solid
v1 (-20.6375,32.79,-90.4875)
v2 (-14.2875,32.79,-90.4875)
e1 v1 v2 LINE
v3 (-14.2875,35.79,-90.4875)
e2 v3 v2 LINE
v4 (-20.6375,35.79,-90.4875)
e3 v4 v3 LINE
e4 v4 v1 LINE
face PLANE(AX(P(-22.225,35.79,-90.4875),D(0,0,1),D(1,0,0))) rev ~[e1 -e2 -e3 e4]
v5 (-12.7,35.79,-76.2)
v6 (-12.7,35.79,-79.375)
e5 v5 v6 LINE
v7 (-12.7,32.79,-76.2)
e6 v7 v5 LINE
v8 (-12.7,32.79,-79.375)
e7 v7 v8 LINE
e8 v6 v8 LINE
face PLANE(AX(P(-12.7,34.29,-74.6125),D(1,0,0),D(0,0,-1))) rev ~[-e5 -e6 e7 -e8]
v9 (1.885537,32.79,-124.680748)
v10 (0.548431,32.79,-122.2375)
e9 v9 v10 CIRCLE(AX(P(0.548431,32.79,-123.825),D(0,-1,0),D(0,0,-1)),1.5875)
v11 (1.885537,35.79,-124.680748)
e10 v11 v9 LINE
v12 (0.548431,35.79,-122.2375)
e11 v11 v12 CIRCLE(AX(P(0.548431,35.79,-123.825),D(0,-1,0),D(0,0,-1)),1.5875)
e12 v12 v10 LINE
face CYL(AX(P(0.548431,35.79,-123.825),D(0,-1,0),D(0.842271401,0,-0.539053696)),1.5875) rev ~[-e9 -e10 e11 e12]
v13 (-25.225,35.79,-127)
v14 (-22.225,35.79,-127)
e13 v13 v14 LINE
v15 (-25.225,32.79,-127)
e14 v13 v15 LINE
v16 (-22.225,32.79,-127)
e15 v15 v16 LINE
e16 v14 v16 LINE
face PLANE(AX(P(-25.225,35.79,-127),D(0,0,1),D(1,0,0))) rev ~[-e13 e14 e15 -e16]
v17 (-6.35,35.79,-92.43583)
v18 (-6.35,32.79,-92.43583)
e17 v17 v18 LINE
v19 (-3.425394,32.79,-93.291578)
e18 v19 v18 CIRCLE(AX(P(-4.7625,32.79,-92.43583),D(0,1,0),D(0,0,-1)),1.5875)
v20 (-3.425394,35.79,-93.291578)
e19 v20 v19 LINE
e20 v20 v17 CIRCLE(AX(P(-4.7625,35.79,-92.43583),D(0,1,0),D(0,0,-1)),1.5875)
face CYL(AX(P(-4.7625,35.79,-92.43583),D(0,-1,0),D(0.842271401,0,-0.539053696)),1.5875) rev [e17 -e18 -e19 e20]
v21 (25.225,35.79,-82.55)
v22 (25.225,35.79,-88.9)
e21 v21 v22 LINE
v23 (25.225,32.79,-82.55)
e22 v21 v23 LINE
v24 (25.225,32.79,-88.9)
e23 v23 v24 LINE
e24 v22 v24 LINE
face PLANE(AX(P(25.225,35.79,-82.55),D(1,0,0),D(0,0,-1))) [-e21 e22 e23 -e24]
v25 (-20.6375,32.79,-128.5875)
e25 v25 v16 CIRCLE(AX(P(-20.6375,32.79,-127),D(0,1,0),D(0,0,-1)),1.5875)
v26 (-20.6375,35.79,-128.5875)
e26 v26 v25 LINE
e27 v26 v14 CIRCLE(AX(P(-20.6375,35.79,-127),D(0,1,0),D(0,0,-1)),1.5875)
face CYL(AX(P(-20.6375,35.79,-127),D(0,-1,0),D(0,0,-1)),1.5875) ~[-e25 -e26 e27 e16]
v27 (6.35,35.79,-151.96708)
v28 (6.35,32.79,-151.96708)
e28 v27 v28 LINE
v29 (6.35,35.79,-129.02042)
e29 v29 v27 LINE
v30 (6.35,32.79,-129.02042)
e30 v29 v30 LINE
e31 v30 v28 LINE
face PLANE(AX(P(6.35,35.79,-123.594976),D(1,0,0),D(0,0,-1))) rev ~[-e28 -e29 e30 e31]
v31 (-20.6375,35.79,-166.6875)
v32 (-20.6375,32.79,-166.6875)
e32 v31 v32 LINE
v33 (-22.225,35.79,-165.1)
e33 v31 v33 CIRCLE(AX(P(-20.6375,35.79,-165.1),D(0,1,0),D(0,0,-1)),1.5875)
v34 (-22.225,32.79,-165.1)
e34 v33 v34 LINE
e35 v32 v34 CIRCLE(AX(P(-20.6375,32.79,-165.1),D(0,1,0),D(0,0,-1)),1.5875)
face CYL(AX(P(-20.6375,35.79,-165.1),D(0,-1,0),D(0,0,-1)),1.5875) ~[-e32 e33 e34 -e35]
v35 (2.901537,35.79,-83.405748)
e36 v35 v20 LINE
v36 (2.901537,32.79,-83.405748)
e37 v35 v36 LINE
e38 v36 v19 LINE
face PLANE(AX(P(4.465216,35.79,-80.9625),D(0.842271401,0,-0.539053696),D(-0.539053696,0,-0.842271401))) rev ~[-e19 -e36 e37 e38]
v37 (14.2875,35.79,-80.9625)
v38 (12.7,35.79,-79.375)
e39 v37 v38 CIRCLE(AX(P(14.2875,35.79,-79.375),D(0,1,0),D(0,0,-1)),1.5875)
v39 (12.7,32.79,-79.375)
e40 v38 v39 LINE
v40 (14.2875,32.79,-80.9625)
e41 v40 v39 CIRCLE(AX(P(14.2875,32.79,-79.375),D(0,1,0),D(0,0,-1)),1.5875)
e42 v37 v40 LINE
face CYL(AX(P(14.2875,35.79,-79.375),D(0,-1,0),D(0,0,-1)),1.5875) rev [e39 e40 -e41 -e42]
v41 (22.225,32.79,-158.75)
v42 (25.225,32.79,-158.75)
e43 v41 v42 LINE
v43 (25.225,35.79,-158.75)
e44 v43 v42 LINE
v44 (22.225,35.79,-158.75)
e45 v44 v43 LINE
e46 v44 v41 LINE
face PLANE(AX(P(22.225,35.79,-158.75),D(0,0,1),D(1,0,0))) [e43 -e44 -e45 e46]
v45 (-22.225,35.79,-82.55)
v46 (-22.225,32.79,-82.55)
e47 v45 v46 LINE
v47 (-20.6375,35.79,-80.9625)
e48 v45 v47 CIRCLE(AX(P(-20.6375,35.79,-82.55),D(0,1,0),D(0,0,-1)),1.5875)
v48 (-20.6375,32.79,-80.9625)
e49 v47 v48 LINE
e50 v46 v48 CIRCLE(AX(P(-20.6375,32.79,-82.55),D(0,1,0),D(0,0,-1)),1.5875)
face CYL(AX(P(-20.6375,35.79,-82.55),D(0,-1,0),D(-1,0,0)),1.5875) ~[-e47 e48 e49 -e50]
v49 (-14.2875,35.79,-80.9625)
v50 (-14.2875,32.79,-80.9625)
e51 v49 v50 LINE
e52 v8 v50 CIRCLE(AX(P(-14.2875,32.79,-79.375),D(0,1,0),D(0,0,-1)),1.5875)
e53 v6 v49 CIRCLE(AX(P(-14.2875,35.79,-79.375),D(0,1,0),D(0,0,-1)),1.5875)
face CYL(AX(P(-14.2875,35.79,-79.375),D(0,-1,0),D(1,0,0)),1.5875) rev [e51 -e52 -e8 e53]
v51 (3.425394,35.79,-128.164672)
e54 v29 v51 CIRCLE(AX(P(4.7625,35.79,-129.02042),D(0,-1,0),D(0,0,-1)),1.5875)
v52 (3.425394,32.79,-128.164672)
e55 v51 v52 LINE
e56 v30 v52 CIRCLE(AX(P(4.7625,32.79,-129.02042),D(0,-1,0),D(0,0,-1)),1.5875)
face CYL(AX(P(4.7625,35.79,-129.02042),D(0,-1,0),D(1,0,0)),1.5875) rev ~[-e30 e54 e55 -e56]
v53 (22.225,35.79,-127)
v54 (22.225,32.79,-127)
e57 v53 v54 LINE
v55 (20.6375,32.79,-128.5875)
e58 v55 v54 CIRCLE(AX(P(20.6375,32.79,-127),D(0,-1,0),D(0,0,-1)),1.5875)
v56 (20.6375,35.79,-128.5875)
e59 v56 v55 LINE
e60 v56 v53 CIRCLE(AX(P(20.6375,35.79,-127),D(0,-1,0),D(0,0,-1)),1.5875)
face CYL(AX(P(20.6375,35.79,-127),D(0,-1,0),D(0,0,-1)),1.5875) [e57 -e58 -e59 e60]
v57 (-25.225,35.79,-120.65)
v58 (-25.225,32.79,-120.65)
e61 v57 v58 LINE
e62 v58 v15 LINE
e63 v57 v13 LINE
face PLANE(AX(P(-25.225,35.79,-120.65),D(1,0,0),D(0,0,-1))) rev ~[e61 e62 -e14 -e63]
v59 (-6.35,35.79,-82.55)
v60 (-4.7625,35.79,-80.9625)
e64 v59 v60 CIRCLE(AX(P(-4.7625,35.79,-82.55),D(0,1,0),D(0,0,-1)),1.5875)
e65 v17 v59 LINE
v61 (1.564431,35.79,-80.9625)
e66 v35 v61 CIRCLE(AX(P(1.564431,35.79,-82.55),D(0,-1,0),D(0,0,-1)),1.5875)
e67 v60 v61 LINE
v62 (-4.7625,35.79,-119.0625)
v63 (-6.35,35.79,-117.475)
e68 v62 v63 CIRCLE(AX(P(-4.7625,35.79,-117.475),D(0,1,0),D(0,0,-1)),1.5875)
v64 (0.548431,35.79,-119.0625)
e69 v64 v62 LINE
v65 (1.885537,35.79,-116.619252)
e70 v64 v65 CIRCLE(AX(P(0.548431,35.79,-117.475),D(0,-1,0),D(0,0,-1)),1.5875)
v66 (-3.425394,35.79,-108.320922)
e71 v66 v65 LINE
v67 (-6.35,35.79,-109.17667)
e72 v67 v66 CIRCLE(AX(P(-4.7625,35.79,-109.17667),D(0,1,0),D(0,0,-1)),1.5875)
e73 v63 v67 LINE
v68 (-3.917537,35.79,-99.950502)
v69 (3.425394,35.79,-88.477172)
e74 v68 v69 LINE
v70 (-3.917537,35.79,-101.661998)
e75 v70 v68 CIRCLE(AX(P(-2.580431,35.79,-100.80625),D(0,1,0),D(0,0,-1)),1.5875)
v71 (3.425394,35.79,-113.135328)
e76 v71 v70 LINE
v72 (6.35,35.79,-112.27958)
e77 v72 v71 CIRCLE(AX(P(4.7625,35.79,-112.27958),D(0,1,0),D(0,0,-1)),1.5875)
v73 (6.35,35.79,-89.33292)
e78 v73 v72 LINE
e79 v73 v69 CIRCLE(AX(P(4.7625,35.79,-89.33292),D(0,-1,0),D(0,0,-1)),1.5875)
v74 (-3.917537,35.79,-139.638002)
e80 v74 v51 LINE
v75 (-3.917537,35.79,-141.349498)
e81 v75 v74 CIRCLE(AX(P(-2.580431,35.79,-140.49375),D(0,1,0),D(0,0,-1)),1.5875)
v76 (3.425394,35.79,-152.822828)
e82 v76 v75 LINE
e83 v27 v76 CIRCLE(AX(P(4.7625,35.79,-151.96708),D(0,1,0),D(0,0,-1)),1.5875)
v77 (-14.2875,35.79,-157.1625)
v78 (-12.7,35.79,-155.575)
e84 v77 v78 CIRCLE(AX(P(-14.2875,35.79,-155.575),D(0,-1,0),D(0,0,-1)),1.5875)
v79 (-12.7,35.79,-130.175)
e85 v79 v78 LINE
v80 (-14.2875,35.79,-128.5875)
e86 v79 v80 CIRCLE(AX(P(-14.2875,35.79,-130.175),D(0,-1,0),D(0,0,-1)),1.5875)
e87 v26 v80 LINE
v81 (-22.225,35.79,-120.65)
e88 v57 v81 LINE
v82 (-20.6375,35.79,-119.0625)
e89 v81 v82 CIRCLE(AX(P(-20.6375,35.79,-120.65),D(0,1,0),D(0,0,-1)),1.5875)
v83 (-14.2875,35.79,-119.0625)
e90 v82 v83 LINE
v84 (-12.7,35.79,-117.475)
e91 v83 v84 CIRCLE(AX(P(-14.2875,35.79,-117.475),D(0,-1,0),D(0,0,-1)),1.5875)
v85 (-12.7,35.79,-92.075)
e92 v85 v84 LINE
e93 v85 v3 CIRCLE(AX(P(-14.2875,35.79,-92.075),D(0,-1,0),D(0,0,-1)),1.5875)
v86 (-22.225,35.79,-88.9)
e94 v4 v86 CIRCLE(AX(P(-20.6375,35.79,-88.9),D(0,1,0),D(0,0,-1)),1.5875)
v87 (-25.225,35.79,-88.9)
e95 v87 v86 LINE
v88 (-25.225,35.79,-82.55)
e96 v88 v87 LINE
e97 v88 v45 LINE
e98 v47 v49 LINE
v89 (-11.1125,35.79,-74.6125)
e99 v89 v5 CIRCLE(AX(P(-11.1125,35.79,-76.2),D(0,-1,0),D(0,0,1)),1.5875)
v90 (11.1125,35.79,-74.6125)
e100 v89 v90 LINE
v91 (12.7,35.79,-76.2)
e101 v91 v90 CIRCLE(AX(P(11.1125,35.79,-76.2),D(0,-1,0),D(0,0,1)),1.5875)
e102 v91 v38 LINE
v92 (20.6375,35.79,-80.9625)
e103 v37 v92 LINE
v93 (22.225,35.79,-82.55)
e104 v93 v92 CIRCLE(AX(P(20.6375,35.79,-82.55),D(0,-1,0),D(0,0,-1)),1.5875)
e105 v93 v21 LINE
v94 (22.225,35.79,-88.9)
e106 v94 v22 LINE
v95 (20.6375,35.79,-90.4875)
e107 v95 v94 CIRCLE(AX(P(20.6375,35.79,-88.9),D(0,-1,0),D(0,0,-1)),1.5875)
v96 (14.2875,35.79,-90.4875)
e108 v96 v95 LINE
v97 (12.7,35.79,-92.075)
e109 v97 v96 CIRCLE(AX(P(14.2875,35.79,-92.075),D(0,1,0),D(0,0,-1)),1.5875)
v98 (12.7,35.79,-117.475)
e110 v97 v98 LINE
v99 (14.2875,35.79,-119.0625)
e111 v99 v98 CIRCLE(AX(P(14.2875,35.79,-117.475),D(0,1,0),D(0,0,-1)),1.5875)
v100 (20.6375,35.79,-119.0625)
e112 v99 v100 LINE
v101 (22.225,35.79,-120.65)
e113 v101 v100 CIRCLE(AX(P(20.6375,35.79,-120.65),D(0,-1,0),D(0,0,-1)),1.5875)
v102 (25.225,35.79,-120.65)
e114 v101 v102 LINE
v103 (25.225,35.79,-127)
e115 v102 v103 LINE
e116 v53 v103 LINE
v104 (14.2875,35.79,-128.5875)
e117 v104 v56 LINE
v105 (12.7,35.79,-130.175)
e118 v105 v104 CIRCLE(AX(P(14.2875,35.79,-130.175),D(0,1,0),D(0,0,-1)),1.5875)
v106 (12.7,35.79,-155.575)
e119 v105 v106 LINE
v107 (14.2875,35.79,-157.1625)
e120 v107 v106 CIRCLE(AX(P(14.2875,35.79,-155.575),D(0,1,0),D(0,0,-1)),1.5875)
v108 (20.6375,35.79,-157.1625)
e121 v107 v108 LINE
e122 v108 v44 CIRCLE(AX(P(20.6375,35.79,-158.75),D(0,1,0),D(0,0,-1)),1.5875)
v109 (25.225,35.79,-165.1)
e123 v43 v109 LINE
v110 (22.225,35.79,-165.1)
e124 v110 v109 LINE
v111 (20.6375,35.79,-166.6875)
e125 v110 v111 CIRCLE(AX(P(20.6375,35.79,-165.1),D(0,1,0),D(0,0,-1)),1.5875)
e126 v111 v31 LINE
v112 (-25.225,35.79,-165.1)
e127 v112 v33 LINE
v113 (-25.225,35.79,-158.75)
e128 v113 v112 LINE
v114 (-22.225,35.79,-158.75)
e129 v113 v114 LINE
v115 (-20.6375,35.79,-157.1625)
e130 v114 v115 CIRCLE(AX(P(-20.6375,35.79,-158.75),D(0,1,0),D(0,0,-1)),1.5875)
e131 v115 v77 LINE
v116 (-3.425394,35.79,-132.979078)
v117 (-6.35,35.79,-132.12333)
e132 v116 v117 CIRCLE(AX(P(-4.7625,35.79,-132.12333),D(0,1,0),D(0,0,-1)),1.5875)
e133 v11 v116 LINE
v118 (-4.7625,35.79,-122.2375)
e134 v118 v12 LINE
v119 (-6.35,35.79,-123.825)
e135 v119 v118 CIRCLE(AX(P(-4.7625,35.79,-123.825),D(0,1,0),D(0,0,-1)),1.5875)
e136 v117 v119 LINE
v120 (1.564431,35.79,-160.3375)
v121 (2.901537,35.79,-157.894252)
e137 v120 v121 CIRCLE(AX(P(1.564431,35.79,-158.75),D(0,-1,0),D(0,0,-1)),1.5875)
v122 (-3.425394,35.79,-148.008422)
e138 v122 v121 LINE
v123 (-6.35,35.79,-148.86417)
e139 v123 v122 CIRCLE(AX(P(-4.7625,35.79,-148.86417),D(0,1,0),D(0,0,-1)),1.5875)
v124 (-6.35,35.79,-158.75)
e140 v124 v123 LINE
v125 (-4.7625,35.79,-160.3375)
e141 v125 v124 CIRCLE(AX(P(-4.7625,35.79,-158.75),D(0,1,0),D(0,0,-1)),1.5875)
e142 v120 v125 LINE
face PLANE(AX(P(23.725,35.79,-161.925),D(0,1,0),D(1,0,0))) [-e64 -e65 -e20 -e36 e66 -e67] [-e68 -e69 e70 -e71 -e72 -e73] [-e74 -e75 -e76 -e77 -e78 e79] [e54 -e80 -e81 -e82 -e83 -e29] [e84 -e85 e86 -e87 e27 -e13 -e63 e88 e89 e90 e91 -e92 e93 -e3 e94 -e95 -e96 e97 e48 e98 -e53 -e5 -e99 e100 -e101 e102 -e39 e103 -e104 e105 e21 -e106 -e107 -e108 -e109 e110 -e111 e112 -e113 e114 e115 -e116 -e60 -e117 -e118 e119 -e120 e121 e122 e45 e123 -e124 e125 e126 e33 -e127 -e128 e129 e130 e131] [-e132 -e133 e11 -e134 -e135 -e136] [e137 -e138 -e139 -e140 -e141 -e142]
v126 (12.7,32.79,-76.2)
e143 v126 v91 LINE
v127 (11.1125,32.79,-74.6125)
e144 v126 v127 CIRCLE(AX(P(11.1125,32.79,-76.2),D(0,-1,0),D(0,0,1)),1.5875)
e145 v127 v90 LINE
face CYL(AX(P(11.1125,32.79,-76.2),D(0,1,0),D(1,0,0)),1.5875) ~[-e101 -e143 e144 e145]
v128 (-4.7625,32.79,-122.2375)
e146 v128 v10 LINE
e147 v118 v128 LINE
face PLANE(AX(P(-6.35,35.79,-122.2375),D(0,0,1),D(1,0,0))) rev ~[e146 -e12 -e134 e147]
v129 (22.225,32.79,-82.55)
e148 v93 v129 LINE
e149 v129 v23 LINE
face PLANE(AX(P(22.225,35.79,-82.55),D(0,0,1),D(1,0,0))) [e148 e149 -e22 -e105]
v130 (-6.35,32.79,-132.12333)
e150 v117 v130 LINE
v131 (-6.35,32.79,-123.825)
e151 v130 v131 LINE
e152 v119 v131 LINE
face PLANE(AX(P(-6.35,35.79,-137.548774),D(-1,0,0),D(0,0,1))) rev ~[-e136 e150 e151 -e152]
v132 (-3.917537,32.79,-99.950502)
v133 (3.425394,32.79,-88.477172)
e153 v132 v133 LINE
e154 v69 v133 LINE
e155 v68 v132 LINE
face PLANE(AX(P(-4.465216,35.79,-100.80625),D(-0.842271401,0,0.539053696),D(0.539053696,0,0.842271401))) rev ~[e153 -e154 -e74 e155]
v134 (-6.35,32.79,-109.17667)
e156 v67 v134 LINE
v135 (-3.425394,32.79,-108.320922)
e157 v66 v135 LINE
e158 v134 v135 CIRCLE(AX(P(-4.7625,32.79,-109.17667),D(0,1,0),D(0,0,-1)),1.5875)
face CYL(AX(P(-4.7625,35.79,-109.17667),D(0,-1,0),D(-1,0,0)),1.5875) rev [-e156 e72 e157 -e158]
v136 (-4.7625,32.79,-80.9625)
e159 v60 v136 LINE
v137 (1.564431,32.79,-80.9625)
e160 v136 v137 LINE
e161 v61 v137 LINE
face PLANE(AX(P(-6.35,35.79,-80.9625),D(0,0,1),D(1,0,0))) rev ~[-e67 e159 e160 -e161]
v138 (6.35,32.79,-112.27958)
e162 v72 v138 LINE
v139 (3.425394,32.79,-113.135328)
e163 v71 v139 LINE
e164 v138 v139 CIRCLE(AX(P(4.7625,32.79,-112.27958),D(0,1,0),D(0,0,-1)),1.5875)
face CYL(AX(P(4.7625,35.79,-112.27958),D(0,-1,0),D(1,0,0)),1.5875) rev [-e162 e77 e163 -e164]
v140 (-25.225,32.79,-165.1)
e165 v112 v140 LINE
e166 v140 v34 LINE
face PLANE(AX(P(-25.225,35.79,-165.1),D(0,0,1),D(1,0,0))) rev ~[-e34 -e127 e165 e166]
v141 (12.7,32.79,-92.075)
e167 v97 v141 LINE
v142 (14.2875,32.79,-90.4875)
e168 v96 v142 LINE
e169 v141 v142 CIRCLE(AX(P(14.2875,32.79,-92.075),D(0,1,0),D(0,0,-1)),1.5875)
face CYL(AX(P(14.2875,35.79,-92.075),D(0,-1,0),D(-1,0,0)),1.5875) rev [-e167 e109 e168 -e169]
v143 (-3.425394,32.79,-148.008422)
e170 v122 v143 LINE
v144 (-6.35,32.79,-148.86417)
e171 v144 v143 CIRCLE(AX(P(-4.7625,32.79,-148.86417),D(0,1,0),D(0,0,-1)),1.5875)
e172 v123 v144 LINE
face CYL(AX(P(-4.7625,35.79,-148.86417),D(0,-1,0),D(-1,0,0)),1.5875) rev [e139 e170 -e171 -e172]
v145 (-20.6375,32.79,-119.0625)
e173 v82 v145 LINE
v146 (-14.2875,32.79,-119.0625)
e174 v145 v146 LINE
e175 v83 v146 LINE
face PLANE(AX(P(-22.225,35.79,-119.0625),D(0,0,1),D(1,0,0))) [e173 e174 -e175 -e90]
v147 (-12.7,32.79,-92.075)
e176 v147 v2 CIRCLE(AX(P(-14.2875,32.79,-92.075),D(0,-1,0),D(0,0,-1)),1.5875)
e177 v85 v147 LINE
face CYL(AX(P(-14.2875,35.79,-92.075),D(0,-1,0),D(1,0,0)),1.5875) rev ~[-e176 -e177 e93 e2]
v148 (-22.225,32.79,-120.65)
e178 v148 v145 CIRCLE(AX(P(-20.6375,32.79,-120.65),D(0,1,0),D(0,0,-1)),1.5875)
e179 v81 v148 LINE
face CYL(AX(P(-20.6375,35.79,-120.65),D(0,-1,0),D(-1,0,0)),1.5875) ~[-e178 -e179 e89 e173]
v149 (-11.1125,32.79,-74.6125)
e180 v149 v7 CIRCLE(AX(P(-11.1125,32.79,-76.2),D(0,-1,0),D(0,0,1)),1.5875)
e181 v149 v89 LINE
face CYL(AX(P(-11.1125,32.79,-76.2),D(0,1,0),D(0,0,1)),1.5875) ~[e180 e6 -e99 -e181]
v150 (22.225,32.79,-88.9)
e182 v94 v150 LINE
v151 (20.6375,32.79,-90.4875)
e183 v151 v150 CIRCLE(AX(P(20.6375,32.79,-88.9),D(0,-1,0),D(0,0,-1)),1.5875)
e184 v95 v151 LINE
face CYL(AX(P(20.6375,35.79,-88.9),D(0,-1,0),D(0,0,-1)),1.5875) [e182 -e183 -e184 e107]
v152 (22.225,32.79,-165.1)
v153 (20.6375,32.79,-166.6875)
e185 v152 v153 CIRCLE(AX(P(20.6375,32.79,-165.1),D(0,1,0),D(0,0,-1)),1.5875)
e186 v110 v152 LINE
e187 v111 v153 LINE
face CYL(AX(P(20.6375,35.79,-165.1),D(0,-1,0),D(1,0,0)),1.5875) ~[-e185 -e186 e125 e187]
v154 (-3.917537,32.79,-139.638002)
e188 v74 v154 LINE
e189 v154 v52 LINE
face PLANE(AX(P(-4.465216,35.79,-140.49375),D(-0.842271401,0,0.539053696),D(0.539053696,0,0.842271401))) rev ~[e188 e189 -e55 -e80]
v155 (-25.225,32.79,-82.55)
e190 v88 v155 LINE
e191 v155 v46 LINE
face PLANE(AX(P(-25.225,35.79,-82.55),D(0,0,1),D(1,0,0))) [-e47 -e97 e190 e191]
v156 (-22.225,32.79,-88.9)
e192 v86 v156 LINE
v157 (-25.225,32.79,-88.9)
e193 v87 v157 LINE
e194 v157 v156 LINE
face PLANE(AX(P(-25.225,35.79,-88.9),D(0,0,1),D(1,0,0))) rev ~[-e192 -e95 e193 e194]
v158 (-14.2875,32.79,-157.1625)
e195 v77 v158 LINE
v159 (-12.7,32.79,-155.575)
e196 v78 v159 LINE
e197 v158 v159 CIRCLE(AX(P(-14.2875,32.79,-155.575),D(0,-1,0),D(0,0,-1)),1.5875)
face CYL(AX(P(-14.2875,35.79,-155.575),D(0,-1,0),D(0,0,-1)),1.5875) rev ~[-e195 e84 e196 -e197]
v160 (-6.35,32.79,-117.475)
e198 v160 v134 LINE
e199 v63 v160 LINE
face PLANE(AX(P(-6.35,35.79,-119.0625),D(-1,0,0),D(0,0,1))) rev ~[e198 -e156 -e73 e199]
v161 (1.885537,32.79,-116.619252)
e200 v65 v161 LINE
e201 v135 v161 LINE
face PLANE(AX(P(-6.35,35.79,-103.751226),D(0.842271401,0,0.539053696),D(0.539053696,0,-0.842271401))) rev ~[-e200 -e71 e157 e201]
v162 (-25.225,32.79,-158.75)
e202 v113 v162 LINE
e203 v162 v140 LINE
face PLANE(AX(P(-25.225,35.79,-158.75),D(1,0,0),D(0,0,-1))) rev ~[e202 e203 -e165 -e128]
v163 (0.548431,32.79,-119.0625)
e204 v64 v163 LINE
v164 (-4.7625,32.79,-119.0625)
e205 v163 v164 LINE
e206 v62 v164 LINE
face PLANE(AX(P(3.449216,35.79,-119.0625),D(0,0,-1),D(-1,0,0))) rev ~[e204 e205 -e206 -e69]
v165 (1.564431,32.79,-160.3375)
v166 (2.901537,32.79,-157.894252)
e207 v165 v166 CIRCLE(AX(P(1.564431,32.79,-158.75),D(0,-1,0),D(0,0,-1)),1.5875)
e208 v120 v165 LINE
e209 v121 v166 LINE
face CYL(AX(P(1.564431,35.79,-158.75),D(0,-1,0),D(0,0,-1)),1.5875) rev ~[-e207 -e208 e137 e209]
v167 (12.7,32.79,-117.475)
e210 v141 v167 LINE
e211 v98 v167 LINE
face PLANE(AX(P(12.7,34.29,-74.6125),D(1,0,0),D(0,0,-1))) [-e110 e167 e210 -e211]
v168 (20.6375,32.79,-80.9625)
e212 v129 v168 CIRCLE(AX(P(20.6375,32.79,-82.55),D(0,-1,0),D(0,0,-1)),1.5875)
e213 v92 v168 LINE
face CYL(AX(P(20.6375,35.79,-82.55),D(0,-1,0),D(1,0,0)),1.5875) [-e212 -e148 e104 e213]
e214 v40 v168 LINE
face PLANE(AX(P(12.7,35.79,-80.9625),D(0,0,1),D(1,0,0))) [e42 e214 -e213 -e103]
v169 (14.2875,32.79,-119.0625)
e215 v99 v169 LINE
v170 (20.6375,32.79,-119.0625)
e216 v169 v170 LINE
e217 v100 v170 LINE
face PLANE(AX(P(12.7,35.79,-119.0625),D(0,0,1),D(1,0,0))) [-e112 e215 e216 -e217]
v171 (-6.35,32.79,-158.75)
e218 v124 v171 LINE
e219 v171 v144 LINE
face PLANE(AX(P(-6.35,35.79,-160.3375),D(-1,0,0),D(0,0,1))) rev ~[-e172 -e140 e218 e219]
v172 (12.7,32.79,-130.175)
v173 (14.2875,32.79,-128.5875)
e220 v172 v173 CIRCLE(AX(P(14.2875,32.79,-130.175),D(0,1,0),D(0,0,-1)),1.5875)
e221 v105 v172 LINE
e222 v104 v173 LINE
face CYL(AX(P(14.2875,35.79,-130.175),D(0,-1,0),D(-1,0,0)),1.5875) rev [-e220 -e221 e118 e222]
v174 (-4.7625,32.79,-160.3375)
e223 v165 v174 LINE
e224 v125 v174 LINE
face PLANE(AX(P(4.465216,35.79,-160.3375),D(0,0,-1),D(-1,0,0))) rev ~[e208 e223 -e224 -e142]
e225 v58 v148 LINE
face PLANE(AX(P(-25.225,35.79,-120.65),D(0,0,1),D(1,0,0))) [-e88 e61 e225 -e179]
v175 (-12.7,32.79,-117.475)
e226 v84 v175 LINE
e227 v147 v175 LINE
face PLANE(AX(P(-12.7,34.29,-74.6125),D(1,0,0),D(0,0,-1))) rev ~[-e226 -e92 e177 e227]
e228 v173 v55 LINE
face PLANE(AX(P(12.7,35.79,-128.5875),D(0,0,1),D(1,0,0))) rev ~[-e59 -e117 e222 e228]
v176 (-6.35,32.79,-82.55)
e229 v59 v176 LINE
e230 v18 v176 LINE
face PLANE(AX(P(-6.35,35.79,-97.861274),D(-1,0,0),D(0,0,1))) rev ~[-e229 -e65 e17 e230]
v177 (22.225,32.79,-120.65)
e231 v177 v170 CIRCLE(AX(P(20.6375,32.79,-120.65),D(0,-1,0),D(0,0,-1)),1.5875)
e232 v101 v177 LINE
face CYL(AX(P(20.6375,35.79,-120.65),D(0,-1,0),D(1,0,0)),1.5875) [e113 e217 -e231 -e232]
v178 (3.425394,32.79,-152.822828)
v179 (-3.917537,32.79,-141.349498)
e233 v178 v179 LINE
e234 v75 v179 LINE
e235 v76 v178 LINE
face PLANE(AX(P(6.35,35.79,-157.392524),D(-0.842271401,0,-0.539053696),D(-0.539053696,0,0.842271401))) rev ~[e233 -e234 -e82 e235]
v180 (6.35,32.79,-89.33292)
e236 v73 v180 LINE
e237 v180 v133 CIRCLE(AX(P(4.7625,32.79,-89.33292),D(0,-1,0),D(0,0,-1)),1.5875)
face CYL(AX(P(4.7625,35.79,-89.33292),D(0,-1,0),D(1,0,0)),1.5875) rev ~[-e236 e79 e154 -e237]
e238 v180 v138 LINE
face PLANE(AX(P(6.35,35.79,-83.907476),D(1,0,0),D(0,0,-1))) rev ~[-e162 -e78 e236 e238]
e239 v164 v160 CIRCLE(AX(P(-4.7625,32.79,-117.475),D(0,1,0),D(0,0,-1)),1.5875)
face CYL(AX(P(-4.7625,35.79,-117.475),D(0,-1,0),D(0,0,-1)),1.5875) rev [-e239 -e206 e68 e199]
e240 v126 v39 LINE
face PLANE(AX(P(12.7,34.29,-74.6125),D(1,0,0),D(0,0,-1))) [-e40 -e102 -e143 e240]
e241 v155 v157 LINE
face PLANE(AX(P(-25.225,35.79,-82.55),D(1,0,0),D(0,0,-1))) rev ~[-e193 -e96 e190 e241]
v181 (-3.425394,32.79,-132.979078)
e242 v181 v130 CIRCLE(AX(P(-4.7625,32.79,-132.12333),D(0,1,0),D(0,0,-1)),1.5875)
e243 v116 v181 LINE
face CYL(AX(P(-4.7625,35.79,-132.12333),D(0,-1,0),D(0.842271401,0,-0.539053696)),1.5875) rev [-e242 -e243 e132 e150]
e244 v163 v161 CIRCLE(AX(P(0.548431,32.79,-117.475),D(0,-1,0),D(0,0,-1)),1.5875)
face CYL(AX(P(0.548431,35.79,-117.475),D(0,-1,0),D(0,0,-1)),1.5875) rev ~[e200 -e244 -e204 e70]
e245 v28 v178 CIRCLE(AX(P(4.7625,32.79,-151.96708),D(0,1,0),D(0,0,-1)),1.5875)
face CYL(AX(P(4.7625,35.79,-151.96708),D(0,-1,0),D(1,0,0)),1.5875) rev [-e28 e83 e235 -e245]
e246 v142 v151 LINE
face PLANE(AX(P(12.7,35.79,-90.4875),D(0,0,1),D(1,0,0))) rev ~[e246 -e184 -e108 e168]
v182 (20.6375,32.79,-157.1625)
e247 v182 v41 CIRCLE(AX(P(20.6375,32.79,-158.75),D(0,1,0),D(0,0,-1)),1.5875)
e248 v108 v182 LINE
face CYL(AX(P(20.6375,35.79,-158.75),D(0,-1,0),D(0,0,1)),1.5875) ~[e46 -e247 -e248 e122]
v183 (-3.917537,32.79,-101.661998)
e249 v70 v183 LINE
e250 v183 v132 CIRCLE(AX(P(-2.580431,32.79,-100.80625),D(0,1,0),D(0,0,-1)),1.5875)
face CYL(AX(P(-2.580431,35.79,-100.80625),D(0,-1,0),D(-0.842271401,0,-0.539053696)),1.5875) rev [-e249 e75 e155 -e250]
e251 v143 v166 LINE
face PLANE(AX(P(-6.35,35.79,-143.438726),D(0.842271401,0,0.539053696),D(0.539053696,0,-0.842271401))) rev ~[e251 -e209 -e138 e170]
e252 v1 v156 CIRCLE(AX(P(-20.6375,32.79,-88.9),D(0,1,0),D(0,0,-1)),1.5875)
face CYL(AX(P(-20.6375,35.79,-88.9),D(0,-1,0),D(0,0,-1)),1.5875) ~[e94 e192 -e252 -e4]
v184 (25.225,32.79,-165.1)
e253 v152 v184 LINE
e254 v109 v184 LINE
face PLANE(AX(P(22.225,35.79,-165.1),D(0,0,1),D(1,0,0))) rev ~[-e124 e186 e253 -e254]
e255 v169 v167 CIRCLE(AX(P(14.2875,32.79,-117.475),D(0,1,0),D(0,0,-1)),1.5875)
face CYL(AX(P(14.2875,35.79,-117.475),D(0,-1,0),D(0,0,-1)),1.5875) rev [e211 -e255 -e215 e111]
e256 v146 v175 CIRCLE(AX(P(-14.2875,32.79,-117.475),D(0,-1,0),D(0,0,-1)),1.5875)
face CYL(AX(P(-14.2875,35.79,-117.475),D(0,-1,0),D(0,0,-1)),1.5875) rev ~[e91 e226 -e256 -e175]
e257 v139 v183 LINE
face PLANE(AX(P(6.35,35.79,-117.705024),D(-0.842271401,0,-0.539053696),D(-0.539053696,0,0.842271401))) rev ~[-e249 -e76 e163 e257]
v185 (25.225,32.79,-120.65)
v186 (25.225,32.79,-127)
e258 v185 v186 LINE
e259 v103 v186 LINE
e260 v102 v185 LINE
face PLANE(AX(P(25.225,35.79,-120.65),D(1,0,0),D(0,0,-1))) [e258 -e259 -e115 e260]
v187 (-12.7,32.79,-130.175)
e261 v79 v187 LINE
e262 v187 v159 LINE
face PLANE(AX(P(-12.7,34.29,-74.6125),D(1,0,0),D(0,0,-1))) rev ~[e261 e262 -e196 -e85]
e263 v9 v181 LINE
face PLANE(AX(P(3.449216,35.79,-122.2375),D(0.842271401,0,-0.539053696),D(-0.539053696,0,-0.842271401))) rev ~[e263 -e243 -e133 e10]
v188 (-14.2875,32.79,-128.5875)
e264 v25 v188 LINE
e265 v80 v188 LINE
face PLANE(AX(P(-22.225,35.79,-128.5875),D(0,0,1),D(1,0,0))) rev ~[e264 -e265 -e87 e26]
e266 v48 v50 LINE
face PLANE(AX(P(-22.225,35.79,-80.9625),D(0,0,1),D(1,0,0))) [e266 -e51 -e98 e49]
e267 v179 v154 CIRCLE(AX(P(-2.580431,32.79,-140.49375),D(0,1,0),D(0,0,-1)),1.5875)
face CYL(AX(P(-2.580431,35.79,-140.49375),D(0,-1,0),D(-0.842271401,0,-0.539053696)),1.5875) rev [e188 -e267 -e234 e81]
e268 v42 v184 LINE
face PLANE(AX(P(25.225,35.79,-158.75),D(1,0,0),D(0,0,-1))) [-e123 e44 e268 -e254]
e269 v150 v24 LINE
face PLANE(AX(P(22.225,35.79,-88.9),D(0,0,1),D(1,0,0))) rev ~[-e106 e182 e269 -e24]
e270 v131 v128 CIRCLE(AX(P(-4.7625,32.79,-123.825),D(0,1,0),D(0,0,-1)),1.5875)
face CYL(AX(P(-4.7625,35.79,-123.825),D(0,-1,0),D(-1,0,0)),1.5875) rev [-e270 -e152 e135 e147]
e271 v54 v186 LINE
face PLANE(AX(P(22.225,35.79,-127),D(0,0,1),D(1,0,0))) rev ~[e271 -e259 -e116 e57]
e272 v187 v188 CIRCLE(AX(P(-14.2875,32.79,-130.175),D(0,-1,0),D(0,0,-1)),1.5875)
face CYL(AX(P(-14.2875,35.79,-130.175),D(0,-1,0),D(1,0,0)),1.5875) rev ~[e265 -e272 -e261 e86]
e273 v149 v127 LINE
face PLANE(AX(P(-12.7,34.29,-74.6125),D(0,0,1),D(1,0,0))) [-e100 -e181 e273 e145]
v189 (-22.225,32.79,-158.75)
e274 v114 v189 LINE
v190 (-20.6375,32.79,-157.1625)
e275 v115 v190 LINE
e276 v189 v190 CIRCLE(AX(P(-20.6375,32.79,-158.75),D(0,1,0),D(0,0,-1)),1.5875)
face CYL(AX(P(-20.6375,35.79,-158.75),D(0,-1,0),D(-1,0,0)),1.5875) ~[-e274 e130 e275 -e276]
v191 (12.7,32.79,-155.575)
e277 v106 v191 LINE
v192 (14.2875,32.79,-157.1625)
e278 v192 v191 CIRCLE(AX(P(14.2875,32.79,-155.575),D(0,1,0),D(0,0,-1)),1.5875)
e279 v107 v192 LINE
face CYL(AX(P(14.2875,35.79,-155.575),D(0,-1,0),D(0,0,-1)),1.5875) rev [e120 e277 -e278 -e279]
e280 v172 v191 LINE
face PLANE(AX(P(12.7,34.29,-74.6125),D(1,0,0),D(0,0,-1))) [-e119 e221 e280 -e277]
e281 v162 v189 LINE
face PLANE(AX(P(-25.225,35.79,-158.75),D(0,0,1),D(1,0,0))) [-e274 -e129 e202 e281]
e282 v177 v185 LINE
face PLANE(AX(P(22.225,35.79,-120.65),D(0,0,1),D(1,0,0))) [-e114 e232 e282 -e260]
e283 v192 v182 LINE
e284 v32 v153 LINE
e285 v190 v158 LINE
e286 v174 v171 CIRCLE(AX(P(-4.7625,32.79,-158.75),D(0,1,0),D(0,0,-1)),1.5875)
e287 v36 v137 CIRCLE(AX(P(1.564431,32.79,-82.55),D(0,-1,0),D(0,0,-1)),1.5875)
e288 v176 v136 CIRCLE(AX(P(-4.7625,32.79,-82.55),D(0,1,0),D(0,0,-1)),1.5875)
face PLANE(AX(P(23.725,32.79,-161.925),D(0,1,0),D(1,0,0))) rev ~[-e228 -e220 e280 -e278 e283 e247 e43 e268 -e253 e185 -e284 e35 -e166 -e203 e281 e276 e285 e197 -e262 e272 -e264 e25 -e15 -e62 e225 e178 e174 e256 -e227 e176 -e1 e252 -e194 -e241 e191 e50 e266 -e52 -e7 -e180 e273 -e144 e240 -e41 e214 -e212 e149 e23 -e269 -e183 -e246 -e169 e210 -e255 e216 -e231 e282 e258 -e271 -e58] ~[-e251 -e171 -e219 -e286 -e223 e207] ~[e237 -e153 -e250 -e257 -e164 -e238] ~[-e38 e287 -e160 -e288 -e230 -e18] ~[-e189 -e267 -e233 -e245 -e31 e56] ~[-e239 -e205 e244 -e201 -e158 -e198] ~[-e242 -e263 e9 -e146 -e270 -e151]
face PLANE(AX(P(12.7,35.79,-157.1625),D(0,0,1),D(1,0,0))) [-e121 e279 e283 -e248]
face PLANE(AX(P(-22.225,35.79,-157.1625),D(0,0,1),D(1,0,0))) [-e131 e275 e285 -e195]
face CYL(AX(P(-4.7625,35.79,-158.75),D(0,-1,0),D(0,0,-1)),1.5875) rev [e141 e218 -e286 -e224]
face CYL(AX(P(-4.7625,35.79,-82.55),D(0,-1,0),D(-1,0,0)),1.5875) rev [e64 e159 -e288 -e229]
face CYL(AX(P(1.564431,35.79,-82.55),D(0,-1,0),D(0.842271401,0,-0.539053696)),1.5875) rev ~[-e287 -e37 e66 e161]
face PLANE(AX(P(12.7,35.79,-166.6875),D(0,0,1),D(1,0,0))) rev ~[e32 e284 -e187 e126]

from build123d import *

# Parameters (mm, degrees)
SKETCH1_W           = 25.4
SKETCH1_H           = 92.075
BOSS_EXTRUDE1_DEPTH = 1.5
SKETCH2_W           = 9.525
SKETCH2_H           = 9.525
BOSS_EXTRUDE2_DEPTH = 3
CUT_EXTRUDE1_DEPTH  = 169.189397054
FILLET1_R           = 1.5875
SKETCH5_W           = 3
SKETCH5_H           = 6.35
BOSS_EXTRUDE3_DEPTH = 3


with BuildPart() as part:
    # Sketch1 → Boss-Extrude1 (new, symmetric)
    with BuildSketch(Plane(origin=(0, 34.29, 0), x_dir=(1, 0, 0), z_dir=(0, 1, 0))):
        with Locations((0, 120.65)):
            Rectangle(SKETCH1_W, SKETCH1_H)
    extrude(amount=BOSS_EXTRUDE1_DEPTH, both=True)

    # Sketch2 → Boss-Extrude2 (add)
    with BuildSketch(Plane(origin=(0, 35.79, 0), x_dir=(1, 0, 0), z_dir=(0, 1, 0))):
        with Locations((17.4625, 161.925)):
            Rectangle(SKETCH2_W, SKETCH2_H)
        with Locations((-17.4625, 161.925)):
            Rectangle(SKETCH2_W, SKETCH2_H)
        with Locations((17.4625, 123.825)):
            Rectangle(SKETCH2_W, SKETCH2_H)
        with Locations((-17.4625, 123.825)):
            Rectangle(SKETCH2_W, SKETCH2_H)
        with Locations((17.4625, 85.725)):
            Rectangle(SKETCH2_W, SKETCH2_H)
        with Locations((-17.4625, 85.725)):
            Rectangle(SKETCH2_W, SKETCH2_H)
    extrude(amount=-BOSS_EXTRUDE2_DEPTH)

    # Sketch4 → Cut-Extrude1 (cut, through all)
    with BuildSketch(Plane(origin=(0, 35.79, 0), x_dir=(1, 0, 0), z_dir=(0, 1, 0))):
        Polygon((4.465215596, 80.9625), (-6.35, 97.861274369), (-6.35, 80.9625), align=None)
        Polygon((6.35, 83.907475631), (6.35, 117.705024369), (-4.465215596, 100.80625), align=None)
        Polygon((3.449215596, 119.0625), (-6.35, 119.0625), (-6.35, 103.751225631), align=None)
        Polygon((3.449215596, 122.2375), (-6.35, 137.548774369), (-6.35, 122.2375), align=None)
        Polygon((6.35, 123.594975631), (6.35, 157.392524369), (-4.465215596, 140.49375), align=None)
        Polygon((4.465215596, 160.3375), (-6.35, 160.3375), (-6.35, 143.438725631), align=None)
    extrude(amount=-CUT_EXTRUDE1_DEPTH, mode=Mode.SUBTRACT)

    # Fillet1
    fillet1_edges = [part.edges().sort_by_distance(p)[0] for p in [
        (3.449215596, 34.29, -119.0625),
        (-6.35, 34.29, -103.751225631),
        (-6.35, 34.29, -119.0625),
        (-4.465215596, 34.29, -100.80625),
        (6.35, 34.29, -117.705024369),
        (6.35, 34.29, -83.907475631),
        (-4.465215596, 34.29, -140.49375),
        (6.35, 34.29, -157.392524369),
        (6.35, 34.29, -123.594975631),
        (3.449215596, 34.29, -122.2375),
        (-6.35, 34.29, -122.2375),
        (-6.35, 34.29, -137.548774369),
        (-6.35, 34.29, -143.438725631),
        (-6.35, 34.29, -160.3375),
        (4.465215596, 34.29, -160.3375),
        (4.465215596, 34.29, -80.9625),
        (-6.35, 34.29, -80.9625),
        (-6.35, 34.29, -97.861274369),
        (22.225, 34.29, -80.9625),
        (22.225, 34.29, -90.4875),
        (12.7, 34.29, -90.4875),
        (12.7, 34.29, -80.9625),
        (-12.7, 34.29, -119.0625),
        (-12.7, 34.29, -128.5875),
        (-22.225, 34.29, -128.5875),
        (-22.225, 34.29, -119.0625),
        (22.225, 34.29, -119.0625),
        (22.225, 34.29, -128.5875),
        (12.7, 34.29, -128.5875),
        (12.7, 34.29, -119.0625),
        (-12.7, 34.29, -157.1625),
        (-22.225, 34.29, -166.6875),
        (-22.225, 34.29, -157.1625),
        (-12.7, 34.29, -80.9625),
        (-12.7, 34.29, -90.4875),
        (-22.225, 34.29, -90.4875),
        (-22.225, 34.29, -80.9625),
        (22.225, 34.29, -157.1625),
        (22.225, 34.29, -166.6875),
        (12.7, 34.29, -157.1625),
        (-12.7, 34.29, -74.6125),
        (12.7, 34.29, -74.6125),
    ]]
    fillet(fillet1_edges, radius=FILLET1_R)

    # Sketch5 → Boss-Extrude3 (add)
    with BuildSketch(Plane(origin=(0, 35.79, 0), x_dir=(1, 0, 0), z_dir=(0, 1, 0))):
        with Locations((23.725, 161.925)):
            Rectangle(SKETCH5_W, SKETCH5_H)
        with Locations((-23.725, 161.925)):
            Rectangle(SKETCH5_W, SKETCH5_H)
        with Locations((23.725, 123.825)):
            Rectangle(SKETCH5_W, SKETCH5_H)
        with Locations((-23.725, 123.825)):
            Rectangle(SKETCH5_W, SKETCH5_H)
        with Locations((23.725, 85.725)):
            Rectangle(SKETCH5_W, SKETCH5_H)
        with Locations((-23.725, 85.725)):
            Rectangle(SKETCH5_W, SKETCH5_H)
    extrude(amount=-BOSS_EXTRUDE3_DEPTH)


solid = part.part
